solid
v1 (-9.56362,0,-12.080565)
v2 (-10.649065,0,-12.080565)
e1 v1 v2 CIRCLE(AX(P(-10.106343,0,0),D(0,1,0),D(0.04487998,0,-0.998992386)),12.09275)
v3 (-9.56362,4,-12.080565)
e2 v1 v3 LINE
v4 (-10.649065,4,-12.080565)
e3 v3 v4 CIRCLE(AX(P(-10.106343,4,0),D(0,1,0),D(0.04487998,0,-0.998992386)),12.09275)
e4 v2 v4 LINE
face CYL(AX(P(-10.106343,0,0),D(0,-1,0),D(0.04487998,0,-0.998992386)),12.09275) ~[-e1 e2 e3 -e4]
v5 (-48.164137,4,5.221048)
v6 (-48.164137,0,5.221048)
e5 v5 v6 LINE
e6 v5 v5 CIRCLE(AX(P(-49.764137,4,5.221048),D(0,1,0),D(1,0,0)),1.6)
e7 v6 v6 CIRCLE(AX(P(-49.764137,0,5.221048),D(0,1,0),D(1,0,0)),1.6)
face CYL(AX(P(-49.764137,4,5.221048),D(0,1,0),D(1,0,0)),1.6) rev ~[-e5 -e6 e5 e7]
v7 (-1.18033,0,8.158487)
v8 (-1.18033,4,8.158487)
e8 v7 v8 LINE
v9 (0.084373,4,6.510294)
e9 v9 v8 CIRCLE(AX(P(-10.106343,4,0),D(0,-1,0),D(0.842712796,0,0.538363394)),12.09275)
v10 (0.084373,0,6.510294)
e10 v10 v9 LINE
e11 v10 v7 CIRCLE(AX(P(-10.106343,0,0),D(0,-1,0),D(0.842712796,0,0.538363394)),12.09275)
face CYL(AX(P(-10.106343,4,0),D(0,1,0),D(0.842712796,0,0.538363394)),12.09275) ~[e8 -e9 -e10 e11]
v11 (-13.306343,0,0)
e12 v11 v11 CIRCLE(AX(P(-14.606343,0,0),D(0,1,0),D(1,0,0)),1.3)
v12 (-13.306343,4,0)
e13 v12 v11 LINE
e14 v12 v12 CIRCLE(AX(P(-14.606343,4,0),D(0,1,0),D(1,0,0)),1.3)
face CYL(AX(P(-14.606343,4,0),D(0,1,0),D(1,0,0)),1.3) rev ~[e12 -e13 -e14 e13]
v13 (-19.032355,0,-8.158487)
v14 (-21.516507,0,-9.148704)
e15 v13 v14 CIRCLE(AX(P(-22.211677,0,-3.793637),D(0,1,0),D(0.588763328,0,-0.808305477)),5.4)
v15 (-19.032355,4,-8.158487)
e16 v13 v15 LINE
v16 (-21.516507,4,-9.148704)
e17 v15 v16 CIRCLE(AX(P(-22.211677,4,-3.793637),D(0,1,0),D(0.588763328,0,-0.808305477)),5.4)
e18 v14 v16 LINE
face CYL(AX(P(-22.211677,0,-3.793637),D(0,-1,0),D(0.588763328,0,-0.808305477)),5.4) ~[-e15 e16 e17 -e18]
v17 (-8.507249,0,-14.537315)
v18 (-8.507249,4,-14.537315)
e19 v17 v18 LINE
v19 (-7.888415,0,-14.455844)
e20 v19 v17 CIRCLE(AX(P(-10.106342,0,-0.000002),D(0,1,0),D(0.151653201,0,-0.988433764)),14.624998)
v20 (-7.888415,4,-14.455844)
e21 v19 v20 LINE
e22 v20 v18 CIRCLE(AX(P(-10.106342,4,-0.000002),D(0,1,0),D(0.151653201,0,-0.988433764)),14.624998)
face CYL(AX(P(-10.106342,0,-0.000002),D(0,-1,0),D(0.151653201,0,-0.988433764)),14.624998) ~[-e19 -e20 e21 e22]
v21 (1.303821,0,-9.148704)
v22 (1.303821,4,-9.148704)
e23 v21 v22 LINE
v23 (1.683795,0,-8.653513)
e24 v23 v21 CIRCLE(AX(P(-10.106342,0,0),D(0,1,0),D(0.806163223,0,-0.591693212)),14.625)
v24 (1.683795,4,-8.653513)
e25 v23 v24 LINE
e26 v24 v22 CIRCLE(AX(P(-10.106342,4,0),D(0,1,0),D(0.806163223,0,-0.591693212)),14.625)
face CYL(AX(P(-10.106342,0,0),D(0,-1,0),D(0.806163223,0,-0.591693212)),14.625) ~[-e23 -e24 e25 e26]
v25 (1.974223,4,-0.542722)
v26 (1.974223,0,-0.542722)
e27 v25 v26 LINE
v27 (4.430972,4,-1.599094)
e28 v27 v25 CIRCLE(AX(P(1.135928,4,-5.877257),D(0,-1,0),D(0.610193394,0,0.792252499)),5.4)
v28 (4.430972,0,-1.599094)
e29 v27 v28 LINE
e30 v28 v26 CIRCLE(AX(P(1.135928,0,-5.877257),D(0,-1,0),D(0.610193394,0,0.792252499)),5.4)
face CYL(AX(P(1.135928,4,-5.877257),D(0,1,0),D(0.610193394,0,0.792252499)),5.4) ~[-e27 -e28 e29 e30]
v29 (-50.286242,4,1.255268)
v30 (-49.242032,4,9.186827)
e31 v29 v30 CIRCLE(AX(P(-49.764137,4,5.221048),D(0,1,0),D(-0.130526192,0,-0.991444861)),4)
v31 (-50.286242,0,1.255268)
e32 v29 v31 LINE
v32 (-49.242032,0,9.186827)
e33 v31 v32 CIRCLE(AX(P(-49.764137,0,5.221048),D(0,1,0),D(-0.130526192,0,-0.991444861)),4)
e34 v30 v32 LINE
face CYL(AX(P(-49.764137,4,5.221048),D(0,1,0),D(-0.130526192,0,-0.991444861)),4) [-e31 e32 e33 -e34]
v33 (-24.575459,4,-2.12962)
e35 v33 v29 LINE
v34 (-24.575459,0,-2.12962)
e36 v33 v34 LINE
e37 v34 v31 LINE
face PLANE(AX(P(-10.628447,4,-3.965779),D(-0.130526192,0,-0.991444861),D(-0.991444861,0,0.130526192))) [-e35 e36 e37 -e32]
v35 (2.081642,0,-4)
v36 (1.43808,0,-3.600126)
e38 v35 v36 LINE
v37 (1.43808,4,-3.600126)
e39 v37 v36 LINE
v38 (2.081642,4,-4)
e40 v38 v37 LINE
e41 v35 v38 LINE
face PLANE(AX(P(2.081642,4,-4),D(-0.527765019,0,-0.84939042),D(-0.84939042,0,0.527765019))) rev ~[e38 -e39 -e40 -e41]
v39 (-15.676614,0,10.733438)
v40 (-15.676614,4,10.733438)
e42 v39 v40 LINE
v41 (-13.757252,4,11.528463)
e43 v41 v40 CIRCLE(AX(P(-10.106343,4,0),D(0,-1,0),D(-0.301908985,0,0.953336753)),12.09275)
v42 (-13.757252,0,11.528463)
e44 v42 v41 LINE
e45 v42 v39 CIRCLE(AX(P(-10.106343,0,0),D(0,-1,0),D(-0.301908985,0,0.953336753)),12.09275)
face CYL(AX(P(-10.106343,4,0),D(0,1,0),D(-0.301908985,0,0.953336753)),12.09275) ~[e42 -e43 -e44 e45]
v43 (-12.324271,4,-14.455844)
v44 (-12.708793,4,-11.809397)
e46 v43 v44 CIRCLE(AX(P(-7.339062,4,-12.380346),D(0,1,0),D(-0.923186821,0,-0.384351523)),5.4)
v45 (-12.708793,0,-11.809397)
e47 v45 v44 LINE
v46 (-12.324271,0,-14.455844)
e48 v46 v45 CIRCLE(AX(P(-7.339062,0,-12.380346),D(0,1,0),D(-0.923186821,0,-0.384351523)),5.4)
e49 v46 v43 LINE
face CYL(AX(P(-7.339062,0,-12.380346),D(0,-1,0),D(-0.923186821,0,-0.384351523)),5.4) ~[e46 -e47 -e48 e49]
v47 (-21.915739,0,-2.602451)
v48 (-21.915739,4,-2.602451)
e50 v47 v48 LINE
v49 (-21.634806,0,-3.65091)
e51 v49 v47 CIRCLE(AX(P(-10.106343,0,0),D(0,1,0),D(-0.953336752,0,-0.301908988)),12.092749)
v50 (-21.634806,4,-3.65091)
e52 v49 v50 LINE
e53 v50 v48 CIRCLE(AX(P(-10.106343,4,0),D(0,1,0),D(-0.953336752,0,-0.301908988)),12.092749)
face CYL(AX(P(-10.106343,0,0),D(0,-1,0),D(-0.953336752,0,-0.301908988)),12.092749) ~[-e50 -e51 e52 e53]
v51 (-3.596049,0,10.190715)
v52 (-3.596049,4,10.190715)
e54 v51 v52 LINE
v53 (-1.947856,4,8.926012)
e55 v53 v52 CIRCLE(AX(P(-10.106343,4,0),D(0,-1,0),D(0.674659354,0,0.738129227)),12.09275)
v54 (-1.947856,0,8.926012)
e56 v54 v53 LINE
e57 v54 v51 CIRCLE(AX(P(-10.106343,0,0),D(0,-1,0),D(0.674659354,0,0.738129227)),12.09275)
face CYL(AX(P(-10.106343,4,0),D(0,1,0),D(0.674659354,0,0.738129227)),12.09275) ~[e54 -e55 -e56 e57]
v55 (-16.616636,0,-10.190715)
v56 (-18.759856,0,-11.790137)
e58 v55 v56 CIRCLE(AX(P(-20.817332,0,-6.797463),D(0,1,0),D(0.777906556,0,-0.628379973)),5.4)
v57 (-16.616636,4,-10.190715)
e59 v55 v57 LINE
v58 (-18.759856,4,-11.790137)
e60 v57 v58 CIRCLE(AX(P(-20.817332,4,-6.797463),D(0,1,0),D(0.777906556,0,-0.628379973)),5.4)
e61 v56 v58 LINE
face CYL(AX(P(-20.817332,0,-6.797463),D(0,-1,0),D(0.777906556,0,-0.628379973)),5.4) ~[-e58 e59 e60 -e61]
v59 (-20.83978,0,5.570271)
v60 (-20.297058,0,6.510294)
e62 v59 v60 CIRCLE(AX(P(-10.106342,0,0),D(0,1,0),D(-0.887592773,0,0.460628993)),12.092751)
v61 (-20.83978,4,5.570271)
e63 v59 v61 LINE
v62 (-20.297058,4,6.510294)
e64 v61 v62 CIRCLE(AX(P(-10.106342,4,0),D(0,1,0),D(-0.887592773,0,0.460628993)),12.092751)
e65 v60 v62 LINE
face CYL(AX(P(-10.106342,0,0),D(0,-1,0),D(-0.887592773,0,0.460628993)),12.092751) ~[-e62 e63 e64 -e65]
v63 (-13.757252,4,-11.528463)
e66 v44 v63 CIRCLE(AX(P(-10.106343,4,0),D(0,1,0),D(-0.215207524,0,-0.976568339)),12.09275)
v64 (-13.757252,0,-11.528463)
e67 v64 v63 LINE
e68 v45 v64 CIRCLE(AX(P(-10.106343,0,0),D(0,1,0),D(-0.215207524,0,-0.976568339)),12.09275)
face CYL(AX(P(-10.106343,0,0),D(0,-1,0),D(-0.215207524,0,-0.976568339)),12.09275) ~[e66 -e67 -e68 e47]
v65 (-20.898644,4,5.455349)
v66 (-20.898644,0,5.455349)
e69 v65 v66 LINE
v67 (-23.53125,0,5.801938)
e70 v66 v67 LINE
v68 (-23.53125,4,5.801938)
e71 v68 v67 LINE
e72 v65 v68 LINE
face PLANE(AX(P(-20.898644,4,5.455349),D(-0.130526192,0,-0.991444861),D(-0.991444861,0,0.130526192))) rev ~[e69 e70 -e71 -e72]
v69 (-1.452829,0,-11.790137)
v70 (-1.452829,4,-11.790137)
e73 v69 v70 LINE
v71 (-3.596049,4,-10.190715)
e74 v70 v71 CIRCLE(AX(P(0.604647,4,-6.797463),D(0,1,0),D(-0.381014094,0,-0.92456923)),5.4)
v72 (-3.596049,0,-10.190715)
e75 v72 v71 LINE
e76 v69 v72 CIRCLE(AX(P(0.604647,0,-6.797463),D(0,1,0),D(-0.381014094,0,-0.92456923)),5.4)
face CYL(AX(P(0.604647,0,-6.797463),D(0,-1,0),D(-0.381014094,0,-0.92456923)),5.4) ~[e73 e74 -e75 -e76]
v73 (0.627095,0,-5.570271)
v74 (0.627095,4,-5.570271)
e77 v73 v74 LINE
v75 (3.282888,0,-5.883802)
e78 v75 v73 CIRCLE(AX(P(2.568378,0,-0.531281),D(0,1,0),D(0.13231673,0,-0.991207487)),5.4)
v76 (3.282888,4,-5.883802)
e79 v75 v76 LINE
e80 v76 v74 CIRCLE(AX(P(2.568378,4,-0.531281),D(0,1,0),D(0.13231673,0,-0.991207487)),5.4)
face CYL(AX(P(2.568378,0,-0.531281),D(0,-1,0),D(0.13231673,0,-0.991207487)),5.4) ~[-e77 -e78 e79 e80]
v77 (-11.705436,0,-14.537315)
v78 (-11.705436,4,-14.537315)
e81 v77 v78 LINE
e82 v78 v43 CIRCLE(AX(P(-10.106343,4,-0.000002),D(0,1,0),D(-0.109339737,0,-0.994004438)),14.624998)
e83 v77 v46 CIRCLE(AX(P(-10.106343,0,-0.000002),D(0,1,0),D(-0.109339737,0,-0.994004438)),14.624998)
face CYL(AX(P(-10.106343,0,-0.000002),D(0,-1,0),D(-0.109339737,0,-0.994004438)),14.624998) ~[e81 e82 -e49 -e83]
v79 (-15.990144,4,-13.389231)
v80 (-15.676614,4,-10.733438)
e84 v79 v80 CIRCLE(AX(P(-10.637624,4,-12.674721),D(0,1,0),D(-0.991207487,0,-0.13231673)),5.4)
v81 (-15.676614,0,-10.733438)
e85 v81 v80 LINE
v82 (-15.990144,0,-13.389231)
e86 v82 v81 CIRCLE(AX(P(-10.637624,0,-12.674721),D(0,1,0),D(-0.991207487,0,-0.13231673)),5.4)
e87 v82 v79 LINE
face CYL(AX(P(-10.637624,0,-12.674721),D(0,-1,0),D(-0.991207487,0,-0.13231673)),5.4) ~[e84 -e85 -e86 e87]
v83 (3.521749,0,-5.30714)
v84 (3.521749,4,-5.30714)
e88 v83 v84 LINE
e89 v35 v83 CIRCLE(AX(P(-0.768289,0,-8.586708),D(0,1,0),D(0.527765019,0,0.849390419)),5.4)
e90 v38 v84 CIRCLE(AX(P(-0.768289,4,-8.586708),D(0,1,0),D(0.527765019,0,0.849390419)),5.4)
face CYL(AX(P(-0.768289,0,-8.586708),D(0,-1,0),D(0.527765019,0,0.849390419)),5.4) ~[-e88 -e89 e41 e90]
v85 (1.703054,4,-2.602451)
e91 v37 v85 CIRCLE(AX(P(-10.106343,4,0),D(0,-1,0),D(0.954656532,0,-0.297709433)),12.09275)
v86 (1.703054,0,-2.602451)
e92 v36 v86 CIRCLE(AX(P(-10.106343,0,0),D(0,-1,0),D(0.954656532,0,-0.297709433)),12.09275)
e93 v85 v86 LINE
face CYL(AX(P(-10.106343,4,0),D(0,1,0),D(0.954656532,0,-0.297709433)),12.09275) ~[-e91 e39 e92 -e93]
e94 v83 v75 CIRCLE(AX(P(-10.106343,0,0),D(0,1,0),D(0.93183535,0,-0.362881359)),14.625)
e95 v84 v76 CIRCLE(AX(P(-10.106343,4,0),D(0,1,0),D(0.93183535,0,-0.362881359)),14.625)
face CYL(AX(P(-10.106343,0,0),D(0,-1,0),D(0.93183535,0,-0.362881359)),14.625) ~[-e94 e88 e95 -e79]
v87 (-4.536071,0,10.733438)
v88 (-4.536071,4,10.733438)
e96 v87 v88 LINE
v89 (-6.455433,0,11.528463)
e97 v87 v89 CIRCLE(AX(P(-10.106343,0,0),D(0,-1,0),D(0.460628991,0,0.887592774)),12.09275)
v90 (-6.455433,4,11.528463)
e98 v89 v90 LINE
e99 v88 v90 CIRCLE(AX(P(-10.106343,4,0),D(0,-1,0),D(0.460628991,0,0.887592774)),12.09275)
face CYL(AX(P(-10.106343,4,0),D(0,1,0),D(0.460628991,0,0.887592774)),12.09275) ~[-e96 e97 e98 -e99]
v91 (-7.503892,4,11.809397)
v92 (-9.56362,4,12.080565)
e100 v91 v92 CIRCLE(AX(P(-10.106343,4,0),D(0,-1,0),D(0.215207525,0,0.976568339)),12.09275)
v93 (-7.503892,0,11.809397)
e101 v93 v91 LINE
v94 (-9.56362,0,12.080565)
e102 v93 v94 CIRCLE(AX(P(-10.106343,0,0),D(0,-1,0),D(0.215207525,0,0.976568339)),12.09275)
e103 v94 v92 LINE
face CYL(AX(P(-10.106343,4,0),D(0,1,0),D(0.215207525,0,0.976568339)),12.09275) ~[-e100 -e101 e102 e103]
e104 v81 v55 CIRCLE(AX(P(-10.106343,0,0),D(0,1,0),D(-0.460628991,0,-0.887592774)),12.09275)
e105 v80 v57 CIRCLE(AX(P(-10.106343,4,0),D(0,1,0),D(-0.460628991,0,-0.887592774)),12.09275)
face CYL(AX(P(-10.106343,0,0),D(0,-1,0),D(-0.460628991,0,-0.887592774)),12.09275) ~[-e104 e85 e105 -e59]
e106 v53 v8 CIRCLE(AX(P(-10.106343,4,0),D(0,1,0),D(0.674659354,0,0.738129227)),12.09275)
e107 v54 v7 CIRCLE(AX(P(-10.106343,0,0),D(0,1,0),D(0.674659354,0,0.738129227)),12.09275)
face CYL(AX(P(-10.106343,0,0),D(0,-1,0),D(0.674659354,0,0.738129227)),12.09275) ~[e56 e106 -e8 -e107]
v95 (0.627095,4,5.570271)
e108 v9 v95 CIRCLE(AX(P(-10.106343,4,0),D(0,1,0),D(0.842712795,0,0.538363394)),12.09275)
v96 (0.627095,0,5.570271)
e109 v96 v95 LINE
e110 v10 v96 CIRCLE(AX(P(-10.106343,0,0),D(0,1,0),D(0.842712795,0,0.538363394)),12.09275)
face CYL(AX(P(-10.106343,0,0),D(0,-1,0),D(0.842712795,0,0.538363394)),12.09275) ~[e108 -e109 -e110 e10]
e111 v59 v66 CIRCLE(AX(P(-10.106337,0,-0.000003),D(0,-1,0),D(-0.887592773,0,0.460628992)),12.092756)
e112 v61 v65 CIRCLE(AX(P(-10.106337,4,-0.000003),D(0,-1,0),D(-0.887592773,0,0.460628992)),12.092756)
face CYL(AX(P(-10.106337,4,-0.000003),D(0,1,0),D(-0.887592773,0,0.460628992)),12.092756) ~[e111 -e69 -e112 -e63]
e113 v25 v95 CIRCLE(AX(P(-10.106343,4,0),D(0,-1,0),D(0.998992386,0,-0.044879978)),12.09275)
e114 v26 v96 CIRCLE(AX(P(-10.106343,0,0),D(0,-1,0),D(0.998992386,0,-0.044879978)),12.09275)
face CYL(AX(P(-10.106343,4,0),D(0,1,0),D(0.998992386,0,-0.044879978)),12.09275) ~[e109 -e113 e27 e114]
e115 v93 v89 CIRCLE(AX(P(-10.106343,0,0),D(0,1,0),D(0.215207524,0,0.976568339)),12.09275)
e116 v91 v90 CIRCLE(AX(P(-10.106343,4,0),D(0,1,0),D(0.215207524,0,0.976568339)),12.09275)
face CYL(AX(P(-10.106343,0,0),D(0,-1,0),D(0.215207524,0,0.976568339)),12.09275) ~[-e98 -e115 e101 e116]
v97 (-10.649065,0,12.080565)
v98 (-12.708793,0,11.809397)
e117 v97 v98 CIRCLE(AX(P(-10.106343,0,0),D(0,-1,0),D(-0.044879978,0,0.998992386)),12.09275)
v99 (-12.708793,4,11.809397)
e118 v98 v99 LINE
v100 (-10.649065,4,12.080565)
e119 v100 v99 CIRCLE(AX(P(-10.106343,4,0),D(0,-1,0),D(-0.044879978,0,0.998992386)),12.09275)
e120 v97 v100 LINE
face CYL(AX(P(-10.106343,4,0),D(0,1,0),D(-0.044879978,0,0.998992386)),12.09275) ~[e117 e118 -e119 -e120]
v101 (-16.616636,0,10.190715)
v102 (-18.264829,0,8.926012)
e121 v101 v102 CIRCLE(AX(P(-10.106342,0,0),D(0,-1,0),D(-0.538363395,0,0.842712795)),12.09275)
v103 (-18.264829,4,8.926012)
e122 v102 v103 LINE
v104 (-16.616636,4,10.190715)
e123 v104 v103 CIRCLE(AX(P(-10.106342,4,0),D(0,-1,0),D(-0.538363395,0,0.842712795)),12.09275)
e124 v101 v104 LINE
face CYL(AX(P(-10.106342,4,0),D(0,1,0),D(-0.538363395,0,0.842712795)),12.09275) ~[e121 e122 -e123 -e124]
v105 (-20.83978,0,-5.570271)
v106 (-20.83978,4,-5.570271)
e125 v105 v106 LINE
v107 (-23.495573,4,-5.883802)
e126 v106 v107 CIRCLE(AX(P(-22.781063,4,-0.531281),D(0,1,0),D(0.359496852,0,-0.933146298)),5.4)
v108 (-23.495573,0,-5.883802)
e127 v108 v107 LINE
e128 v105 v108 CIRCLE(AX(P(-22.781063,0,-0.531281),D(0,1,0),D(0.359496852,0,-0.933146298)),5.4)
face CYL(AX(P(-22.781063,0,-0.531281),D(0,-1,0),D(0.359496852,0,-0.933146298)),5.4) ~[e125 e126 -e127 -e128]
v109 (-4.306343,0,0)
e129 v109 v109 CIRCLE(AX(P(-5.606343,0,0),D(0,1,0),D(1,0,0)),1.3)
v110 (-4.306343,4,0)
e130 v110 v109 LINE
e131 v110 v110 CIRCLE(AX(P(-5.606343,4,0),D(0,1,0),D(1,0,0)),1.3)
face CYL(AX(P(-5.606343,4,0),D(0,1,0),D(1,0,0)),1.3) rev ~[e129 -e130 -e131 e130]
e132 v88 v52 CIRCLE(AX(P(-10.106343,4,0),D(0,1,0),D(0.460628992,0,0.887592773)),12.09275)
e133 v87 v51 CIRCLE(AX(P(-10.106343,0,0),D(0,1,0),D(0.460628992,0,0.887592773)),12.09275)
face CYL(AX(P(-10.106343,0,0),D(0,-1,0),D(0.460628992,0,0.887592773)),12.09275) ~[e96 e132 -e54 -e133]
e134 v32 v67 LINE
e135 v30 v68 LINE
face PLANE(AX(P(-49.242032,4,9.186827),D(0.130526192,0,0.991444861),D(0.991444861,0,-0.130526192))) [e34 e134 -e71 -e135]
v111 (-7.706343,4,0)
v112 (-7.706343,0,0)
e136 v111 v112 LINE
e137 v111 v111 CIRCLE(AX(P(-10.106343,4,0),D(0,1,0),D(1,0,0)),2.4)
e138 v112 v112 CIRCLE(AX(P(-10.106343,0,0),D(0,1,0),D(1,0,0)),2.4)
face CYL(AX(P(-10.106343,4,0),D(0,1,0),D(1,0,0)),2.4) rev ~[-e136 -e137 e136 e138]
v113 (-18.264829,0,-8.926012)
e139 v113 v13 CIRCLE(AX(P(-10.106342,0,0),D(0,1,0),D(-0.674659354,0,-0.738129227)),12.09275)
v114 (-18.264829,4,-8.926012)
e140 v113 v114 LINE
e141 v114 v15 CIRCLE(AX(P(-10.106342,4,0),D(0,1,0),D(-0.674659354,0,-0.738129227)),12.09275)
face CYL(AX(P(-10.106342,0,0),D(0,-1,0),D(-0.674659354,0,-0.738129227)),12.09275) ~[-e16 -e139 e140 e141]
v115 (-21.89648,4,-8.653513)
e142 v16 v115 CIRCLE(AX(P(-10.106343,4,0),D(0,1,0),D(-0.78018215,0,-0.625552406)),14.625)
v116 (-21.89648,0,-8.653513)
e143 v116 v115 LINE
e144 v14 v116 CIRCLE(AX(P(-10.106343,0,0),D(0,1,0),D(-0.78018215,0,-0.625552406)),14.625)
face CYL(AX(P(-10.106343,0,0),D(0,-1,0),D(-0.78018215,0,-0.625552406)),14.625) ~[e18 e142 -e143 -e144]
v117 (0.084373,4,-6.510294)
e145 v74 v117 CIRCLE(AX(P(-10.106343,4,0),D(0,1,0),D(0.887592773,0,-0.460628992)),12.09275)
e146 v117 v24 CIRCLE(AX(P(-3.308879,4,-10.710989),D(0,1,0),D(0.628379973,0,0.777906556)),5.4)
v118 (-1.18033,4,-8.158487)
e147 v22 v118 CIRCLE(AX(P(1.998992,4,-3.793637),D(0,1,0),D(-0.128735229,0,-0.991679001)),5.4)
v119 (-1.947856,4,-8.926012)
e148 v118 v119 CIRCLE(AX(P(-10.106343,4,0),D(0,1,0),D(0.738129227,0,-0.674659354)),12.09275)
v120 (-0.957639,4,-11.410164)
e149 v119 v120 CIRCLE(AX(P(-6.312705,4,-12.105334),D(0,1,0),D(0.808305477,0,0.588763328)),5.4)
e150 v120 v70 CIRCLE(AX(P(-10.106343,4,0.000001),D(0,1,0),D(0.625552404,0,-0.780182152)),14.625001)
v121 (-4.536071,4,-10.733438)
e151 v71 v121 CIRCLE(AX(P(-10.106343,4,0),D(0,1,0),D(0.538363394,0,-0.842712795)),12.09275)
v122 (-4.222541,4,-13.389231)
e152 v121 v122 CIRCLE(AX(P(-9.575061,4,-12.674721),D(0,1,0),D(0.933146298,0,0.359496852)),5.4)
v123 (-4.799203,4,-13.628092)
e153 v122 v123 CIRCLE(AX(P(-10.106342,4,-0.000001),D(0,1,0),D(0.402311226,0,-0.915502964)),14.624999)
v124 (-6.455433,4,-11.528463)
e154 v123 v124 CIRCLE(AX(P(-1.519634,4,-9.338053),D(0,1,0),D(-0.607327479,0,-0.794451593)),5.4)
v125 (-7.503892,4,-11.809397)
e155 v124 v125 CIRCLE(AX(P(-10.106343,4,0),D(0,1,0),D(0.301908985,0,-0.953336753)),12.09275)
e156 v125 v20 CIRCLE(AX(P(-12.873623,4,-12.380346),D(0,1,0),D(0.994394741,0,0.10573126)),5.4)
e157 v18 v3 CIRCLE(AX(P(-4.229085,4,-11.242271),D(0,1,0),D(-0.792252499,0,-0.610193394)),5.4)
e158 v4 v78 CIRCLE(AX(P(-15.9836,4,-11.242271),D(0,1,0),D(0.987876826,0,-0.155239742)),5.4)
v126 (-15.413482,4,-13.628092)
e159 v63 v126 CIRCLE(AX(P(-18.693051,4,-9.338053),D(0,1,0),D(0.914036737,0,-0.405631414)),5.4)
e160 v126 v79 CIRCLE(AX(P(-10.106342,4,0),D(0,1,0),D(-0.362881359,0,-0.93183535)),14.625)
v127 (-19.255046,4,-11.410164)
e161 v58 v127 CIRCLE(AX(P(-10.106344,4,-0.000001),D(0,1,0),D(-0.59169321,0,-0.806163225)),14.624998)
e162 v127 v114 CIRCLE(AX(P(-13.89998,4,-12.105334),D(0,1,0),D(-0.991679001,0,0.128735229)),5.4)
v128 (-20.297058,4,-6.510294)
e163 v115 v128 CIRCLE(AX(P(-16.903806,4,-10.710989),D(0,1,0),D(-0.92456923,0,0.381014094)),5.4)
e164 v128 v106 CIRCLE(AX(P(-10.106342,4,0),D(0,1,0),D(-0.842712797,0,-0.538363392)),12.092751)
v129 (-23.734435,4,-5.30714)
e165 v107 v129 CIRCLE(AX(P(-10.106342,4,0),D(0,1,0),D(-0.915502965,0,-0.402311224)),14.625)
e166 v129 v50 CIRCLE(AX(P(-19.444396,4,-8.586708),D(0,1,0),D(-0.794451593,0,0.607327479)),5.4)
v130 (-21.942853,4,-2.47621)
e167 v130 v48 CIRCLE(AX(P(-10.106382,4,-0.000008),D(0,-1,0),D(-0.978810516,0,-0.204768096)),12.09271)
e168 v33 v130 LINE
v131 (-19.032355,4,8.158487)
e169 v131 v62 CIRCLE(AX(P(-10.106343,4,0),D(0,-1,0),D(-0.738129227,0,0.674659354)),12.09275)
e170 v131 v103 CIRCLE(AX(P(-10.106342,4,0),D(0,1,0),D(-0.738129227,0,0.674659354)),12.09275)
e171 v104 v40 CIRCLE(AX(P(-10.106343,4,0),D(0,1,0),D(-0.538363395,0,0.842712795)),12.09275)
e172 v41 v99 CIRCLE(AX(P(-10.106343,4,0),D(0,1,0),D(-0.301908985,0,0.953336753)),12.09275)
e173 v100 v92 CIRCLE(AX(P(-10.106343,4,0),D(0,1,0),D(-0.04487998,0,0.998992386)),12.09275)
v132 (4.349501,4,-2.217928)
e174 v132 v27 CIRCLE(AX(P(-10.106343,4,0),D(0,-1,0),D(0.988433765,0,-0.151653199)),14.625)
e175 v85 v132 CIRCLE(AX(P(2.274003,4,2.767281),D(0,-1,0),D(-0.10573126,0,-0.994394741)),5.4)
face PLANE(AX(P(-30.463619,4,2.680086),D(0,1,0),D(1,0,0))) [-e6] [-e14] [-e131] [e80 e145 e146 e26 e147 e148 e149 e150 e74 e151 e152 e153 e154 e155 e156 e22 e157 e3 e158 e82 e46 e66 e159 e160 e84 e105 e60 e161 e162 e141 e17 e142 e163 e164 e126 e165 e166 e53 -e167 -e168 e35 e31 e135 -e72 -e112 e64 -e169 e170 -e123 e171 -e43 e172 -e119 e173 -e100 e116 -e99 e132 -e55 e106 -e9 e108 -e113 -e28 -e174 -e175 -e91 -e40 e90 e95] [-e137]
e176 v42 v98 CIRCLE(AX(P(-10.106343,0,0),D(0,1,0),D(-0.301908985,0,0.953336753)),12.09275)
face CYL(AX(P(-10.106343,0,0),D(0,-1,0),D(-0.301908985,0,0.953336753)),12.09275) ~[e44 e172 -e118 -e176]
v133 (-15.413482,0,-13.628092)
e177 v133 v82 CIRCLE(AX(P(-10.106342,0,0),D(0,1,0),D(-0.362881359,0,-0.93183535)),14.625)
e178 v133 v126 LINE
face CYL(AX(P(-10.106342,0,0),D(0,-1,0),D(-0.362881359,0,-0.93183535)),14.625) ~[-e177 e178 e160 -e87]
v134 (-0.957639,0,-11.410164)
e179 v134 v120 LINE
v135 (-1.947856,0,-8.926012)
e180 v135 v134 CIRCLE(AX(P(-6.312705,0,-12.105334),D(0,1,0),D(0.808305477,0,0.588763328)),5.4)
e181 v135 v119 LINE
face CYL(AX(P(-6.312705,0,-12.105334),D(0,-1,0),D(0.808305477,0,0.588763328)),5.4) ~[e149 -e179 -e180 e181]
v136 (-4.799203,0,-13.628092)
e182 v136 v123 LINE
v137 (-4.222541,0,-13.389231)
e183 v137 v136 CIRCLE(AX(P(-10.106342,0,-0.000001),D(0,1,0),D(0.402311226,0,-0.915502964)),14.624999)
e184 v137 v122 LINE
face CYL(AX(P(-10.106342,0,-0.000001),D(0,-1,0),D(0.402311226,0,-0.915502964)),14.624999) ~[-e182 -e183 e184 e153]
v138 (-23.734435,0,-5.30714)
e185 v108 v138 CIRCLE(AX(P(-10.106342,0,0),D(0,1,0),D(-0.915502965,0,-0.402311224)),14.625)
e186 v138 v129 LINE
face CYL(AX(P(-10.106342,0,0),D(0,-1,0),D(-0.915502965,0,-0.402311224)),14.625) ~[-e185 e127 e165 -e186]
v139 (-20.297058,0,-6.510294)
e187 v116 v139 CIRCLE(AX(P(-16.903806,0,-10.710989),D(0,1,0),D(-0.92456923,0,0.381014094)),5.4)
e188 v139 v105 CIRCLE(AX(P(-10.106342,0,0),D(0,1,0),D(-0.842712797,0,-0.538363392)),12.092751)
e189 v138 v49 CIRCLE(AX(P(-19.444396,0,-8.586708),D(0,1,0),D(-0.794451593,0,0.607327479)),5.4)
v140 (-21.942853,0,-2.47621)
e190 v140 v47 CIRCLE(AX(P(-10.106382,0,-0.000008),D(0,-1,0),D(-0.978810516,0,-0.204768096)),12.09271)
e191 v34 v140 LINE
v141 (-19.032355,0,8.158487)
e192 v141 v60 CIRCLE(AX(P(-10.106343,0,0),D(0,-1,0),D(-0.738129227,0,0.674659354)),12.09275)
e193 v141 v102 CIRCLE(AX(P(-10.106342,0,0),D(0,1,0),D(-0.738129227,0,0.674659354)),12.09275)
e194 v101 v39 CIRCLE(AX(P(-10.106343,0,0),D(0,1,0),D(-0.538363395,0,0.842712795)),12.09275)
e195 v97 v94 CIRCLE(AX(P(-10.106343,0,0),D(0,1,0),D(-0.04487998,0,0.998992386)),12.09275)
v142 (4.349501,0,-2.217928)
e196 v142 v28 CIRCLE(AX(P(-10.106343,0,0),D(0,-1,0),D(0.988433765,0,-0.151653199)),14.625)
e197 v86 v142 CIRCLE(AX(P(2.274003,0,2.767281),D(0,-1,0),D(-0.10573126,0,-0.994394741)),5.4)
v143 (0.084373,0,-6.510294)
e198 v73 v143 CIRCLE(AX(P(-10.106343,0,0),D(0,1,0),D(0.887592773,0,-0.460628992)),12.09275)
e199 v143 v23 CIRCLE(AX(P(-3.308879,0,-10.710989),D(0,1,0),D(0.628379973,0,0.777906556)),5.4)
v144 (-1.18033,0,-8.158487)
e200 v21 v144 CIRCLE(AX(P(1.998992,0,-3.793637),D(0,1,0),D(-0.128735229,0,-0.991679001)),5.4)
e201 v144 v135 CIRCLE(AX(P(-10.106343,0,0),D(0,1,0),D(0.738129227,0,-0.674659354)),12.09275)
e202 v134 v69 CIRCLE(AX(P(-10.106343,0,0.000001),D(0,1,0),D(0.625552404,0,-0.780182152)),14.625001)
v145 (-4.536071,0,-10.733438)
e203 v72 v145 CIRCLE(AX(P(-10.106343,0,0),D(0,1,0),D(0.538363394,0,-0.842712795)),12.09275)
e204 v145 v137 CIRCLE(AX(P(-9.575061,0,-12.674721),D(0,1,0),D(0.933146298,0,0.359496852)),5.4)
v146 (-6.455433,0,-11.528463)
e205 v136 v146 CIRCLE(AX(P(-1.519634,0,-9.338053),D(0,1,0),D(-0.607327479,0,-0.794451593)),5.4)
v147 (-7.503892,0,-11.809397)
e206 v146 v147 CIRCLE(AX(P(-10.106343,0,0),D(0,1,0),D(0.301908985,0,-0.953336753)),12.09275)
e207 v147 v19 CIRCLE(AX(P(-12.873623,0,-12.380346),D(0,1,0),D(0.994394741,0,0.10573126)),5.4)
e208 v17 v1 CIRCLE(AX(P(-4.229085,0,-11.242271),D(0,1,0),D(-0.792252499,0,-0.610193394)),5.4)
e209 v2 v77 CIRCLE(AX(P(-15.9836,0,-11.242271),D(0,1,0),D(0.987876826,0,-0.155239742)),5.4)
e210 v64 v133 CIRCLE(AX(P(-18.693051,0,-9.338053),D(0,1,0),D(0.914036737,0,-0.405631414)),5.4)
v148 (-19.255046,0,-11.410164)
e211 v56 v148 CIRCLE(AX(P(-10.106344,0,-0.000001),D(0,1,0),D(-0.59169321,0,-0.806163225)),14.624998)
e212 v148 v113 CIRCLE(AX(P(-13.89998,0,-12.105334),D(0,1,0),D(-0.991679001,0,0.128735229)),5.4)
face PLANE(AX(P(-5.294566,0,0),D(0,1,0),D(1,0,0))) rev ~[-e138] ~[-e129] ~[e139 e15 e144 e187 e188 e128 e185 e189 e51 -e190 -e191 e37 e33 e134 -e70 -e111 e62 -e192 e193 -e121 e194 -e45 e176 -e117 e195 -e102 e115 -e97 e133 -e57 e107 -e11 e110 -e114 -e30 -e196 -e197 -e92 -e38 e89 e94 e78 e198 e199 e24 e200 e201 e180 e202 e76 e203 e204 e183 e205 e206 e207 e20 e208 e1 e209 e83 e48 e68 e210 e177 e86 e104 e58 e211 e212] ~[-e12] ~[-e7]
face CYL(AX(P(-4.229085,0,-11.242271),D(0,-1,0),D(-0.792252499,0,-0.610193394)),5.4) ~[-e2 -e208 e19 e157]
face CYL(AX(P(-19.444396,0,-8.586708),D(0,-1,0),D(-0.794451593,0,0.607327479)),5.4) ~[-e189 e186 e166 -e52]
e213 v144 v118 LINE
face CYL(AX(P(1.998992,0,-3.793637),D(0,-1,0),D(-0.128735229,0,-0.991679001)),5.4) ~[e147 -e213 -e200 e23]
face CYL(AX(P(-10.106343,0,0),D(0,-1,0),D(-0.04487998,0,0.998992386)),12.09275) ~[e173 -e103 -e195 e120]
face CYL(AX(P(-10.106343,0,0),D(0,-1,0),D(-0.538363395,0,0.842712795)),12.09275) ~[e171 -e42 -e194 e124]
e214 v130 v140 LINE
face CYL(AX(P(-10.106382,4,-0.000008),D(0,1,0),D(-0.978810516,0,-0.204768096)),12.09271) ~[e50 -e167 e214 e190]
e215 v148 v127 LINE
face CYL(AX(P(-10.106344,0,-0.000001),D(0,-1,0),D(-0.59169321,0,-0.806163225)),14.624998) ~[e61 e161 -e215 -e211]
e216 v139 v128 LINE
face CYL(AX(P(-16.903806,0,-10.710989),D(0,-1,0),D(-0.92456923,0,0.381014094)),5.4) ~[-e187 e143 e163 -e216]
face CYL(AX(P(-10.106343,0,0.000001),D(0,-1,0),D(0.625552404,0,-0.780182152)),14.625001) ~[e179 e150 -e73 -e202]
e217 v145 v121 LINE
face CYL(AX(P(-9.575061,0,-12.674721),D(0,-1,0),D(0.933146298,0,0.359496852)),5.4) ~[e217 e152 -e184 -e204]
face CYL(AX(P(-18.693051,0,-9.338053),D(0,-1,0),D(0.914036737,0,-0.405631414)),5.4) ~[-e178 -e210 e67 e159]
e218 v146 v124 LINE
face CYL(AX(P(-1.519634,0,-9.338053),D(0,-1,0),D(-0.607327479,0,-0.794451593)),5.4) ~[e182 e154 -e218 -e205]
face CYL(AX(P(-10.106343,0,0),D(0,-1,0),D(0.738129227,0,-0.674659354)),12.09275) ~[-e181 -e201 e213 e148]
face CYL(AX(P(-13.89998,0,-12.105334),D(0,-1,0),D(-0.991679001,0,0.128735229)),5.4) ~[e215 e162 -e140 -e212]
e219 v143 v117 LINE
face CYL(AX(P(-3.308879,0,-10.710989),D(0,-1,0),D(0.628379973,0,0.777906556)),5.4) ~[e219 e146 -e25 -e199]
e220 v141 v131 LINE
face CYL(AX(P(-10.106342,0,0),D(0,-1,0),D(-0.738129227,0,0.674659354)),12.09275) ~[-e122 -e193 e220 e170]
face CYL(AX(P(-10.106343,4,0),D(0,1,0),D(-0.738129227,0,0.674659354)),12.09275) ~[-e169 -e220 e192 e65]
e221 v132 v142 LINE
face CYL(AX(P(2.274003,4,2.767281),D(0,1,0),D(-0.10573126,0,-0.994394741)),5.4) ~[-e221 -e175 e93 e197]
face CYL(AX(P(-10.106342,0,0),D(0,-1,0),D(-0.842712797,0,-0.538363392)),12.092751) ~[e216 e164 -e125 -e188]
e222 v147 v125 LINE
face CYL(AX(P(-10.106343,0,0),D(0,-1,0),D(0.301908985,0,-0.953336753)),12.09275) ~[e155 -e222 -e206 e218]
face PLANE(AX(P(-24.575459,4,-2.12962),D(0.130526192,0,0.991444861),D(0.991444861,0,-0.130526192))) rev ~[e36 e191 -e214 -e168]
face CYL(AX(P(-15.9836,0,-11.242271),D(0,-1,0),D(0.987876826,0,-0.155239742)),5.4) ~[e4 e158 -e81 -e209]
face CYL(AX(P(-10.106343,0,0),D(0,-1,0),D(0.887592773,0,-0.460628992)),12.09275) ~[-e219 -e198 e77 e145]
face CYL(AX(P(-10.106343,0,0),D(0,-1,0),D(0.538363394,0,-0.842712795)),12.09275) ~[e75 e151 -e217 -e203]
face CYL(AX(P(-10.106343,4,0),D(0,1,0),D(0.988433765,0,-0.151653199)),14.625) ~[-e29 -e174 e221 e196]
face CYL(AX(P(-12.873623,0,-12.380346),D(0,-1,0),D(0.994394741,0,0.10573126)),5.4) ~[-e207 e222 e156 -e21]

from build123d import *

# Parameters (mm, degrees)
SKETCH1_R           = 1.5
SKETCH1_R_2         = 1.6
BOSS_EXTRUDE1_DEPTH = 4
SKETCH3_R           = 1.6
BOSS_EXTRUDE2_DEPTH = 4
CUT_EXTRUDE1_DEPTH  = 4
CUT_EXTRUDE2_REACH  = 6
SKETCH5_R           = 1.3
SKETCH5_R_2         = 2.4


with BuildPart() as part:
    # Sketch1 → Boss-Extrude1 (new body)
    with BuildSketch(Plane(origin=(0, 0, 0), x_dir=(1, 0, 0), z_dir=(0, 1, 0))):
        with BuildLine():
            Line((20.643657446, 4), (2.081641936, 4))
            ThreePointArc((2.081641936, 4), (2.861028333, 4.588201733), (3.521749436, 5.30713988))
            ThreePointArc((3.521749436, 5.30713988), (3.405395609, 5.596745198), (3.282888305, 5.883801663))
            ThreePointArc((3.282888305, 5.883801663), (1.93527598, 5.894040025), (0.627094961, 5.57027124))
            ThreePointArc((0.627094961, 5.57027124), (0.366286148, 6.046375), (0.084372603, 6.510293938))
            ThreePointArc((0.084372603, 6.510293938), (1.018855105, 7.48132754), (1.683794586, 8.65351323))
            ThreePointArc((1.683794586, 8.65351323), (1.496450048, 8.903135899), (1.303821399, 9.148703928))
            ThreePointArc((1.303821399, 9.148703928), (-0.000522033, 8.809805691), (-1.180330337, 8.158486898))
            ThreePointArc((-1.180330337, 8.158486898), (-1.555477026, 8.550865528), (-1.947855656, 8.926012217))
            ThreePointArc((-1.947855656, 8.926012217), (-1.296536862, 10.105820521), (-0.957638625, 11.410163953))
            ThreePointArc((-0.957638625, 11.410163953), (-1.203206655, 11.602792602), (-1.452829324, 11.79013714))
            ThreePointArc((-1.452829324, 11.79013714), (-2.625015014, 11.125197659), (-3.596048616, 10.190715157))
            ThreePointArc((-3.596048616, 10.190715157), (-4.059967554, 10.472628702), (-4.536071314, 10.733437515))
            ThreePointArc((-4.536071314, 10.733437515), (-4.212302529, 12.041618533), (-4.222540891, 13.389230859))
            ThreePointArc((-4.222540891, 13.389230859), (-4.509597355, 13.511738163), (-4.799202674, 13.62809199))
            ThreePointArc((-4.799202674, 13.62809199), (-5.759348103, 12.682425791), (-6.455432668, 11.528463019))
            ThreePointArc((-6.455432668, 11.528463019), (-6.976508546, 11.680699536), (-7.503891752, 11.809396783))
            ThreePointArc((-7.503891752, 11.809396783), (-7.529737283, 13.156800143), (-7.888414517, 14.455843809))
            ThreePointArc((-7.888414517, 14.455843809), (-8.197396993, 14.499881098), (-8.507248835, 14.537314892))
            ThreePointArc((-8.507248835, 14.537314892), (-9.18992168, 13.375367565), (-9.563620196, 12.080565177))
            ThreePointArc((-9.563620196, 12.080565177), (-10.106342554, 12.09275), (-10.649064912, 12.080565177))
            ThreePointArc((-10.649064912, 12.080565177), (-11.022763428, 13.375367565), (-11.705436272, 14.537314892))
            ThreePointArc((-11.705436272, 14.537314892), (-12.015288115, 14.499881098), (-12.324270591, 14.455843809))
            ThreePointArc((-12.324270591, 14.455843809), (-12.682947825, 13.156800143), (-12.708793355, 11.809396783))
            ThreePointArc((-12.708793355, 11.809396783), (-13.236176561, 11.680699536), (-13.757252439, 11.528463019))
            ThreePointArc((-13.757252439, 11.528463019), (-14.453337005, 12.682425791), (-15.413482434, 13.62809199))
            ThreePointArc((-15.413482434, 13.62809199), (-15.703087752, 13.511738163), (-15.990144217, 13.389230859))
            ThreePointArc((-15.990144217, 13.389230859), (-16.000382579, 12.041618533), (-15.676613793, 10.733437515))
            ThreePointArc((-15.676613793, 10.733437515), (-16.152717554, 10.472628702), (-16.616636492, 10.190715157))
            ThreePointArc((-16.616636492, 10.190715157), (-17.587670094, 11.125197659), (-18.759855783, 11.79013714))
            ThreePointArc((-18.759855783, 11.79013714), (-19.009478453, 11.602792602), (-19.255046482, 11.410163953))
            ThreePointArc((-19.255046482, 11.410163953), (-18.916148245, 10.105820521), (-18.264829452, 8.926012217))
            ThreePointArc((-18.264829452, 8.926012217), (-18.657208082, 8.550865528), (-19.032354771, 8.158486898))
            ThreePointArc((-19.032354771, 8.158486898), (-20.212163074, 8.809805691), (-21.516506507, 9.148703928))
            ThreePointArc((-21.516506507, 9.148703928), (-21.709135156, 8.903135899), (-21.896479694, 8.65351323))
            ThreePointArc((-21.896479694, 8.65351323), (-21.231540213, 7.48132754), (-20.297057711, 6.510293938))
            ThreePointArc((-20.297057711, 6.510293938), (-20.578971255, 6.046375), (-20.839780068, 5.57027124))
            ThreePointArc((-20.839780068, 5.57027124), (-22.147961087, 5.894040025), (-23.495573413, 5.883801663))
            ThreePointArc((-23.495573413, 5.883801663), (-23.618080717, 5.596745198), (-23.734434544, 5.30713988))
            ThreePointArc((-23.734434544, 5.30713988), (-22.788768345, 4.346994451), (-21.634805572, 3.650909885))
            ThreePointArc((-21.634805572, 3.650909885), (-21.78704209, 3.129834008), (-21.915739337, 2.602450802))
            ThreePointArc((-21.915739337, 2.602450802), (-23.263142697, 2.576605271), (-24.562186363, 2.217928037))
            ThreePointArc((-24.562186363, 2.217928037), (-24.606223651, 1.908945561), (-24.643657446, 1.599093719))
            ThreePointArc((-24.643657446, 1.599093719), (-23.481710119, 0.916420874), (-22.186907731, 0.542722358))
            ThreePointArc((-22.186907731, 0.542722358), (-22.199092554, 0), (-22.186907731, -0.542722358))
            ThreePointArc((-22.186907731, -0.542722358), (-23.481710119, -0.916420874), (-24.643657446, -1.599093719))
            ThreePointArc((-24.643657446, -1.599093719), (-24.606223651, -1.908945561), (-24.562186363, -2.217928037))
            ThreePointArc((-24.562186363, -2.217928037), (-23.263142697, -2.576605271), (-21.915739337, -2.602450802))
            ThreePointArc((-21.915739337, -2.602450802), (-21.78704209, -3.129834008), (-21.634805572, -3.650909885))
            ThreePointArc((-21.634805572, -3.650909885), (-22.788768345, -4.346994451), (-23.734434544, -5.30713988))
            ThreePointArc((-23.734434544, -5.30713988), (-23.618080717, -5.596745198), (-23.495573413, -5.883801663))
            ThreePointArc((-23.495573413, -5.883801663), (-22.147961087, -5.894040025), (-20.839780068, -5.57027124))
            ThreePointArc((-20.839780068, -5.57027124), (-20.578971255, -6.046375), (-20.297057711, -6.510293938))
            ThreePointArc((-20.297057711, -6.510293938), (-21.231540213, -7.48132754), (-21.896479694, -8.65351323))
            ThreePointArc((-21.896479694, -8.65351323), (-21.709135156, -8.903135899), (-21.516506507, -9.148703928))
            ThreePointArc((-21.516506507, -9.148703928), (-20.212163074, -8.809805691), (-19.032354771, -8.158486898))
            ThreePointArc((-19.032354771, -8.158486898), (-18.657208082, -8.550865528), (-18.264829452, -8.926012217))
            ThreePointArc((-18.264829452, -8.926012217), (-18.916148245, -10.105820521), (-19.255046482, -11.410163953))
            ThreePointArc((-19.255046482, -11.410163953), (-19.009478453, -11.602792602), (-18.759855783, -11.79013714))
            ThreePointArc((-18.759855783, -11.79013714), (-17.587670094, -11.125197659), (-16.616636492, -10.190715157))
            ThreePointArc((-16.616636492, -10.190715157), (-16.152717554, -10.472628702), (-15.676613793, -10.733437515))
            ThreePointArc((-15.676613793, -10.733437515), (-16.000382579, -12.041618533), (-15.990144217, -13.389230859))
            ThreePointArc((-15.990144217, -13.389230859), (-15.703087752, -13.511738163), (-15.413482434, -13.62809199))
            ThreePointArc((-15.413482434, -13.62809199), (-14.453337005, -12.682425791), (-13.757252439, -11.528463019))
            ThreePointArc((-13.757252439, -11.528463019), (-13.236176561, -11.680699536), (-12.708793355, -11.809396783))
            ThreePointArc((-12.708793355, -11.809396783), (-12.682947825, -13.156800143), (-12.324270591, -14.455843809))
            ThreePointArc((-12.324270591, -14.455843809), (-12.015288115, -14.499881098), (-11.705436272, -14.537314892))
            ThreePointArc((-11.705436272, -14.537314892), (-11.022763428, -13.375367565), (-10.649064912, -12.080565177))
            ThreePointArc((-10.649064912, -12.080565177), (-10.106342554, -12.09275), (-9.563620196, -12.080565177))
            ThreePointArc((-9.563620196, -12.080565177), (-9.18992168, -13.375367565), (-8.507248835, -14.537314892))
            ThreePointArc((-8.507248835, -14.537314892), (-8.197396993, -14.499881098), (-7.888414517, -14.455843809))
            ThreePointArc((-7.888414517, -14.455843809), (-7.529737283, -13.156800143), (-7.503891752, -11.809396783))
            ThreePointArc((-7.503891752, -11.809396783), (-6.976508546, -11.680699536), (-6.455432668, -11.528463019))
            ThreePointArc((-6.455432668, -11.528463019), (-5.759348103, -12.682425791), (-4.799202674, -13.62809199))
            ThreePointArc((-4.799202674, -13.62809199), (-4.509597355, -13.511738163), (-4.222540891, -13.389230859))
            ThreePointArc((-4.222540891, -13.389230859), (-4.212302529, -12.041618533), (-4.536071314, -10.733437515))
            ThreePointArc((-4.536071314, -10.733437515), (-4.059967554, -10.472628702), (-3.596048616, -10.190715157))
            ThreePointArc((-3.596048616, -10.190715157), (-2.625015014, -11.125197659), (-1.452829324, -11.79013714))
            ThreePointArc((-1.452829324, -11.79013714), (-1.203206655, -11.602792602), (-0.957638625, -11.410163953))
            ThreePointArc((-0.957638625, -11.410163953), (-1.296536862, -10.105820521), (-1.947855656, -8.926012217))
            ThreePointArc((-1.947855656, -8.926012217), (-1.555477026, -8.550865528), (-1.180330337, -8.158486898))
            ThreePointArc((-1.180330337, -8.158486898), (-0.000522033, -8.809805691), (1.303821399, -9.148703928))
            ThreePointArc((1.303821399, -9.148703928), (1.496450048, -8.903135899), (1.683794586, -8.65351323))
            ThreePointArc((1.683794586, -8.65351323), (1.018855105, -7.48132754), (0.084372603, -6.510293938))
            ThreePointArc((0.084372603, -6.510293938), (0.366286148, -6.046375), (0.627094961, -5.57027124))
            ThreePointArc((0.627094961, -5.57027124), (1.93527598, -5.894040025), (3.282888305, -5.883801663))
            ThreePointArc((3.282888305, -5.883801663), (3.405395609, -5.596745198), (3.521749436, -5.30713988))
            ThreePointArc((3.521749436, -5.30713988), (2.861028333, -4.588201733), (2.081641936, -4))
            Line((2.081641936, -4), (20.643657446, -4))
            ThreePointArc((20.643657446, -4), (24.643657446, 0), (20.643657446, 4))
        make_face()
        with Locations((-10.106342554, 0)):
            Circle(SKETCH1_R, mode=Mode.SUBTRACT)
        with Locations((20.643657446, 0)):
            Circle(SKETCH1_R_2, mode=Mode.SUBTRACT)
    extrude(amount=BOSS_EXTRUDE1_DEPTH)

    # Sketch3 → Boss-Extrude2 (add)
    with BuildSketch(Plane(origin=(0, 4, 0), x_dir=(1, 0, 0), z_dir=(0, 1, 0))):
        with BuildLine():
            ThreePointArc((-9.584237785, -3.965779445), (-14.072121999, -0.522104769), (-10.628447323, 3.965779445))
            Line((-10.628447323, 3.965779445), (-50.286241778, -1.255268243))
            ThreePointArc((-50.286241778, -1.255268243), (-53.729916454, -5.743152458), (-49.24203224, -9.186827134))
            Line((-49.24203224, -9.186827134), (-9.584237785, -3.965779445))
        make_face()
        with Locations((-49.764137009, -5.221047689)):
            Circle(SKETCH3_R, mode=Mode.SUBTRACT)
    extrude(amount=-BOSS_EXTRUDE2_DEPTH)

    # Sketch4 → Cut-Extrude1 (cut)
    with BuildSketch(Plane(origin=(0, 4, 0), x_dir=(1, 0, 0), z_dir=(0, 1, 0))):
        with BuildLine():
            ThreePointArc((20.643657446, -4), (24.643657446, 0), (20.643657446, 4))
            Line((20.643657446, 4), (2.081641936, 4))
            Line((2.081641936, 4), (1.43808022, 3.600125745))
            ThreePointArc((1.43808022, 3.600125745), (1.581217534, 3.104116905), (1.70305423, 2.602450802))
            ThreePointArc((1.70305423, 2.602450802), (3.050457589, 2.576605271), (4.349501255, 2.217928037))
            ThreePointArc((4.349501255, 2.217928037), (4.393538544, 1.908945561), (4.430972339, 1.599093719))
            ThreePointArc((4.430972339, 1.599093719), (3.269025011, 0.916420874), (1.974222624, 0.542722358))
            ThreePointArc((1.974222624, 0.542722358), (1.70305423, -2.602450802), (0.627094961, -5.57027124))
            ThreePointArc((0.627094961, -5.57027124), (1.93527598, -5.894040025), (3.282888305, -5.883801663))
            ThreePointArc((3.282888305, -5.883801663), (3.405395609, -5.596745198), (3.521749436, -5.30713988))
            ThreePointArc((3.521749436, -5.30713988), (2.861028333, -4.588201733), (2.081641936, -4))
            Line((2.081641936, -4), (20.643657446, -4))
        make_face()
        with BuildLine():
            ThreePointArc((1.683794586, -8.65351323), (1.018855105, -7.48132754), (0.084372603, -6.510293938))
            ThreePointArc((0.084372603, -6.510293938), (-0.512518948, -7.361599771), (-1.180330337, -8.158486898))
            ThreePointArc((-1.180330337, -8.158486898), (-0.000522033, -8.809805691), (1.303821399, -9.148703928))
            ThreePointArc((1.303821399, -9.148703928), (1.496450048, -8.903135899), (1.683794586, -8.65351323))
        make_face()
        with BuildLine():
            ThreePointArc((-0.957638625, -11.410163953), (-1.296536862, -10.105820521), (-1.947855656, -8.926012217))
            ThreePointArc((-1.947855656, -8.926012217), (-2.744742783, -9.593823606), (-3.596048616, -10.190715157))
            ThreePointArc((-3.596048616, -10.190715157), (-2.625015014, -11.125197659), (-1.452829324, -11.79013714))
            ThreePointArc((-1.452829324, -11.79013714), (-1.203206655, -11.602792602), (-0.957638625, -11.410163953))
        make_face()
        with BuildLine():
            ThreePointArc((-4.222540891, -13.389230859), (-4.212302529, -12.041618533), (-4.536071314, -10.733437515))
            ThreePointArc((-4.536071314, -10.733437515), (-5.478647477, -11.172244217), (-6.455432668, -11.528463019))
            ThreePointArc((-6.455432668, -11.528463019), (-5.759348103, -12.682425791), (-4.799202674, -13.62809199))
            ThreePointArc((-4.799202674, -13.62809199), (-4.509597355, -13.511738163), (-4.222540891, -13.389230859))
        make_face()
        with BuildLine():
            ThreePointArc((-7.888414517, -14.455843809), (-7.529737283, -13.156800143), (-7.503891752, -11.809396783))
            ThreePointArc((-7.503891752, -11.809396783), (-8.527921943, -11.989294847), (-9.563620196, -12.080565177))
            ThreePointArc((-9.563620196, -12.080565177), (-9.18992168, -13.375367565), (-8.507248835, -14.537314892))
            ThreePointArc((-8.507248835, -14.537314892), (-8.197396993, -14.499881098), (-7.888414517, -14.455843809))
        make_face()
        with BuildLine():
            ThreePointArc((-11.705436272, -14.537314892), (-11.022763428, -13.375367565), (-10.649064912, -12.080565177))
            ThreePointArc((-10.649064912, -12.080565177), (-11.684763165, -11.989294847), (-12.708793355, -11.809396783))
            ThreePointArc((-12.708793355, -11.809396783), (-12.682947825, -13.156800143), (-12.324270591, -14.455843809))
            ThreePointArc((-12.324270591, -14.455843809), (-12.015288115, -14.499881098), (-11.705436272, -14.537314892))
        make_face()
        with BuildLine():
            ThreePointArc((-15.413482434, -13.62809199), (-14.453337005, -12.682425791), (-13.757252439, -11.528463019))
            ThreePointArc((-13.757252439, -11.528463019), (-14.734037631, -11.172244217), (-15.676613793, -10.733437515))
            ThreePointArc((-15.676613793, -10.733437515), (-16.000382579, -12.041618533), (-15.990144217, -13.389230859))
            ThreePointArc((-15.990144217, -13.389230859), (-15.703087752, -13.511738163), (-15.413482434, -13.62809199))
        make_face()
        with BuildLine():
            ThreePointArc((-18.759855783, -11.79013714), (-17.587670094, -11.125197659), (-16.616636492, -10.190715157))
            ThreePointArc((-16.616636492, -10.190715157), (-17.467942324, -9.593823606), (-18.264829452, -8.926012217))
            ThreePointArc((-18.264829452, -8.926012217), (-18.916148245, -10.105820521), (-19.255046482, -11.410163953))
            ThreePointArc((-19.255046482, -11.410163953), (-19.009478453, -11.602792602), (-18.759855783, -11.79013714))
        make_face()
        with BuildLine():
            ThreePointArc((-21.516506507, -9.148703928), (-20.212163074, -8.809805691), (-19.032354771, -8.158486898))
            ThreePointArc((-19.032354771, -8.158486898), (-19.70016616, -7.361599771), (-20.297057711, -6.510293938))
            ThreePointArc((-20.297057711, -6.510293938), (-21.231540213, -7.48132754), (-21.896479694, -8.65351323))
            ThreePointArc((-21.896479694, -8.65351323), (-21.709135156, -8.903135899), (-21.516506507, -9.148703928))
        make_face()
        with BuildLine():
            ThreePointArc((-21.942853375, 2.47620963), (-21.92946485, 2.539366405), (-21.915739337, 2.602450802))
            ThreePointArc((-21.915739337, 2.602450802), (-23.263142697, 2.576605271), (-24.562186363, 2.217928037))
            ThreePointArc((-24.562186363, 2.217928037), (-24.56889027, 2.173784387), (-24.575459377, 2.129620475))
            Line((-24.575459377, 2.129620475), (-21.942853375, 2.47620963))
        make_face()
        with BuildLine():
            ThreePointArc((-23.495573413, -5.883801663), (-22.147961087, -5.894040025), (-20.839780068, -5.57027124))
            ThreePointArc((-20.839780068, -5.57027124), (-20.869365339, -5.512888815), (-20.898643838, -5.455349261))
            Line((-20.898643838, -5.455349261), (-23.531249839, -5.801938416))
            ThreePointArc((-23.531249839, -5.801938416), (-23.513474108, -5.842897269), (-23.495573413, -5.883801663))
        make_face()
    extrude(amount=-CUT_EXTRUDE1_DEPTH, mode=Mode.SUBTRACT)

    # Sketch5 → Cut-Extrude2 (cut, up to next)
    with BuildSketch(Plane(origin=(0, 4, 0), x_dir=(1, 0, 0), z_dir=(0, 1, 0)), mode=Mode.PRIVATE) as cut_extrude2_sk1:
        with Locations((-14.606342554, 0)):
            Circle(SKETCH5_R)
    cut_extrude2_tool1 = extrude(cut_extrude2_sk1.sketch, amount=-CUT_EXTRUDE2_REACH, mode=Mode.PRIVATE) & part.part
    add(cut_extrude2_tool1.solids().sort_by_distance((-14.606343, 4, 0))[0], mode=Mode.SUBTRACT)
    # Sketch5 → Cut-Extrude2 (cut, up to next)
    with BuildSketch(Plane(origin=(0, 4, 0), x_dir=(1, 0, 0), z_dir=(0, 1, 0)), mode=Mode.PRIVATE) as cut_extrude2_sk2:
        with Locations((-5.606342554, 0)):
            Circle(SKETCH5_R)
    cut_extrude2_tool2 = extrude(cut_extrude2_sk2.sketch, amount=-CUT_EXTRUDE2_REACH, mode=Mode.PRIVATE) & part.part
    add(cut_extrude2_tool2.solids().sort_by_distance((-5.606343, 4, 0))[0], mode=Mode.SUBTRACT)
    # Sketch5 → Cut-Extrude2 (cut, up to next)
    with BuildSketch(Plane(origin=(0, 4, 0), x_dir=(1, 0, 0), z_dir=(0, 1, 0)), mode=Mode.PRIVATE) as cut_extrude2_sk3:
        with Locations((-10.106342554, 0)):
            Circle(SKETCH5_R_2)
    cut_extrude2_tool3 = extrude(cut_extrude2_sk3.sketch, amount=-CUT_EXTRUDE2_REACH, mode=Mode.PRIVATE) & part.part
    add(cut_extrude2_tool3.solids().sort_by_distance((-10.106343, 4, 0))[0], mode=Mode.SUBTRACT)


solid = part.part
